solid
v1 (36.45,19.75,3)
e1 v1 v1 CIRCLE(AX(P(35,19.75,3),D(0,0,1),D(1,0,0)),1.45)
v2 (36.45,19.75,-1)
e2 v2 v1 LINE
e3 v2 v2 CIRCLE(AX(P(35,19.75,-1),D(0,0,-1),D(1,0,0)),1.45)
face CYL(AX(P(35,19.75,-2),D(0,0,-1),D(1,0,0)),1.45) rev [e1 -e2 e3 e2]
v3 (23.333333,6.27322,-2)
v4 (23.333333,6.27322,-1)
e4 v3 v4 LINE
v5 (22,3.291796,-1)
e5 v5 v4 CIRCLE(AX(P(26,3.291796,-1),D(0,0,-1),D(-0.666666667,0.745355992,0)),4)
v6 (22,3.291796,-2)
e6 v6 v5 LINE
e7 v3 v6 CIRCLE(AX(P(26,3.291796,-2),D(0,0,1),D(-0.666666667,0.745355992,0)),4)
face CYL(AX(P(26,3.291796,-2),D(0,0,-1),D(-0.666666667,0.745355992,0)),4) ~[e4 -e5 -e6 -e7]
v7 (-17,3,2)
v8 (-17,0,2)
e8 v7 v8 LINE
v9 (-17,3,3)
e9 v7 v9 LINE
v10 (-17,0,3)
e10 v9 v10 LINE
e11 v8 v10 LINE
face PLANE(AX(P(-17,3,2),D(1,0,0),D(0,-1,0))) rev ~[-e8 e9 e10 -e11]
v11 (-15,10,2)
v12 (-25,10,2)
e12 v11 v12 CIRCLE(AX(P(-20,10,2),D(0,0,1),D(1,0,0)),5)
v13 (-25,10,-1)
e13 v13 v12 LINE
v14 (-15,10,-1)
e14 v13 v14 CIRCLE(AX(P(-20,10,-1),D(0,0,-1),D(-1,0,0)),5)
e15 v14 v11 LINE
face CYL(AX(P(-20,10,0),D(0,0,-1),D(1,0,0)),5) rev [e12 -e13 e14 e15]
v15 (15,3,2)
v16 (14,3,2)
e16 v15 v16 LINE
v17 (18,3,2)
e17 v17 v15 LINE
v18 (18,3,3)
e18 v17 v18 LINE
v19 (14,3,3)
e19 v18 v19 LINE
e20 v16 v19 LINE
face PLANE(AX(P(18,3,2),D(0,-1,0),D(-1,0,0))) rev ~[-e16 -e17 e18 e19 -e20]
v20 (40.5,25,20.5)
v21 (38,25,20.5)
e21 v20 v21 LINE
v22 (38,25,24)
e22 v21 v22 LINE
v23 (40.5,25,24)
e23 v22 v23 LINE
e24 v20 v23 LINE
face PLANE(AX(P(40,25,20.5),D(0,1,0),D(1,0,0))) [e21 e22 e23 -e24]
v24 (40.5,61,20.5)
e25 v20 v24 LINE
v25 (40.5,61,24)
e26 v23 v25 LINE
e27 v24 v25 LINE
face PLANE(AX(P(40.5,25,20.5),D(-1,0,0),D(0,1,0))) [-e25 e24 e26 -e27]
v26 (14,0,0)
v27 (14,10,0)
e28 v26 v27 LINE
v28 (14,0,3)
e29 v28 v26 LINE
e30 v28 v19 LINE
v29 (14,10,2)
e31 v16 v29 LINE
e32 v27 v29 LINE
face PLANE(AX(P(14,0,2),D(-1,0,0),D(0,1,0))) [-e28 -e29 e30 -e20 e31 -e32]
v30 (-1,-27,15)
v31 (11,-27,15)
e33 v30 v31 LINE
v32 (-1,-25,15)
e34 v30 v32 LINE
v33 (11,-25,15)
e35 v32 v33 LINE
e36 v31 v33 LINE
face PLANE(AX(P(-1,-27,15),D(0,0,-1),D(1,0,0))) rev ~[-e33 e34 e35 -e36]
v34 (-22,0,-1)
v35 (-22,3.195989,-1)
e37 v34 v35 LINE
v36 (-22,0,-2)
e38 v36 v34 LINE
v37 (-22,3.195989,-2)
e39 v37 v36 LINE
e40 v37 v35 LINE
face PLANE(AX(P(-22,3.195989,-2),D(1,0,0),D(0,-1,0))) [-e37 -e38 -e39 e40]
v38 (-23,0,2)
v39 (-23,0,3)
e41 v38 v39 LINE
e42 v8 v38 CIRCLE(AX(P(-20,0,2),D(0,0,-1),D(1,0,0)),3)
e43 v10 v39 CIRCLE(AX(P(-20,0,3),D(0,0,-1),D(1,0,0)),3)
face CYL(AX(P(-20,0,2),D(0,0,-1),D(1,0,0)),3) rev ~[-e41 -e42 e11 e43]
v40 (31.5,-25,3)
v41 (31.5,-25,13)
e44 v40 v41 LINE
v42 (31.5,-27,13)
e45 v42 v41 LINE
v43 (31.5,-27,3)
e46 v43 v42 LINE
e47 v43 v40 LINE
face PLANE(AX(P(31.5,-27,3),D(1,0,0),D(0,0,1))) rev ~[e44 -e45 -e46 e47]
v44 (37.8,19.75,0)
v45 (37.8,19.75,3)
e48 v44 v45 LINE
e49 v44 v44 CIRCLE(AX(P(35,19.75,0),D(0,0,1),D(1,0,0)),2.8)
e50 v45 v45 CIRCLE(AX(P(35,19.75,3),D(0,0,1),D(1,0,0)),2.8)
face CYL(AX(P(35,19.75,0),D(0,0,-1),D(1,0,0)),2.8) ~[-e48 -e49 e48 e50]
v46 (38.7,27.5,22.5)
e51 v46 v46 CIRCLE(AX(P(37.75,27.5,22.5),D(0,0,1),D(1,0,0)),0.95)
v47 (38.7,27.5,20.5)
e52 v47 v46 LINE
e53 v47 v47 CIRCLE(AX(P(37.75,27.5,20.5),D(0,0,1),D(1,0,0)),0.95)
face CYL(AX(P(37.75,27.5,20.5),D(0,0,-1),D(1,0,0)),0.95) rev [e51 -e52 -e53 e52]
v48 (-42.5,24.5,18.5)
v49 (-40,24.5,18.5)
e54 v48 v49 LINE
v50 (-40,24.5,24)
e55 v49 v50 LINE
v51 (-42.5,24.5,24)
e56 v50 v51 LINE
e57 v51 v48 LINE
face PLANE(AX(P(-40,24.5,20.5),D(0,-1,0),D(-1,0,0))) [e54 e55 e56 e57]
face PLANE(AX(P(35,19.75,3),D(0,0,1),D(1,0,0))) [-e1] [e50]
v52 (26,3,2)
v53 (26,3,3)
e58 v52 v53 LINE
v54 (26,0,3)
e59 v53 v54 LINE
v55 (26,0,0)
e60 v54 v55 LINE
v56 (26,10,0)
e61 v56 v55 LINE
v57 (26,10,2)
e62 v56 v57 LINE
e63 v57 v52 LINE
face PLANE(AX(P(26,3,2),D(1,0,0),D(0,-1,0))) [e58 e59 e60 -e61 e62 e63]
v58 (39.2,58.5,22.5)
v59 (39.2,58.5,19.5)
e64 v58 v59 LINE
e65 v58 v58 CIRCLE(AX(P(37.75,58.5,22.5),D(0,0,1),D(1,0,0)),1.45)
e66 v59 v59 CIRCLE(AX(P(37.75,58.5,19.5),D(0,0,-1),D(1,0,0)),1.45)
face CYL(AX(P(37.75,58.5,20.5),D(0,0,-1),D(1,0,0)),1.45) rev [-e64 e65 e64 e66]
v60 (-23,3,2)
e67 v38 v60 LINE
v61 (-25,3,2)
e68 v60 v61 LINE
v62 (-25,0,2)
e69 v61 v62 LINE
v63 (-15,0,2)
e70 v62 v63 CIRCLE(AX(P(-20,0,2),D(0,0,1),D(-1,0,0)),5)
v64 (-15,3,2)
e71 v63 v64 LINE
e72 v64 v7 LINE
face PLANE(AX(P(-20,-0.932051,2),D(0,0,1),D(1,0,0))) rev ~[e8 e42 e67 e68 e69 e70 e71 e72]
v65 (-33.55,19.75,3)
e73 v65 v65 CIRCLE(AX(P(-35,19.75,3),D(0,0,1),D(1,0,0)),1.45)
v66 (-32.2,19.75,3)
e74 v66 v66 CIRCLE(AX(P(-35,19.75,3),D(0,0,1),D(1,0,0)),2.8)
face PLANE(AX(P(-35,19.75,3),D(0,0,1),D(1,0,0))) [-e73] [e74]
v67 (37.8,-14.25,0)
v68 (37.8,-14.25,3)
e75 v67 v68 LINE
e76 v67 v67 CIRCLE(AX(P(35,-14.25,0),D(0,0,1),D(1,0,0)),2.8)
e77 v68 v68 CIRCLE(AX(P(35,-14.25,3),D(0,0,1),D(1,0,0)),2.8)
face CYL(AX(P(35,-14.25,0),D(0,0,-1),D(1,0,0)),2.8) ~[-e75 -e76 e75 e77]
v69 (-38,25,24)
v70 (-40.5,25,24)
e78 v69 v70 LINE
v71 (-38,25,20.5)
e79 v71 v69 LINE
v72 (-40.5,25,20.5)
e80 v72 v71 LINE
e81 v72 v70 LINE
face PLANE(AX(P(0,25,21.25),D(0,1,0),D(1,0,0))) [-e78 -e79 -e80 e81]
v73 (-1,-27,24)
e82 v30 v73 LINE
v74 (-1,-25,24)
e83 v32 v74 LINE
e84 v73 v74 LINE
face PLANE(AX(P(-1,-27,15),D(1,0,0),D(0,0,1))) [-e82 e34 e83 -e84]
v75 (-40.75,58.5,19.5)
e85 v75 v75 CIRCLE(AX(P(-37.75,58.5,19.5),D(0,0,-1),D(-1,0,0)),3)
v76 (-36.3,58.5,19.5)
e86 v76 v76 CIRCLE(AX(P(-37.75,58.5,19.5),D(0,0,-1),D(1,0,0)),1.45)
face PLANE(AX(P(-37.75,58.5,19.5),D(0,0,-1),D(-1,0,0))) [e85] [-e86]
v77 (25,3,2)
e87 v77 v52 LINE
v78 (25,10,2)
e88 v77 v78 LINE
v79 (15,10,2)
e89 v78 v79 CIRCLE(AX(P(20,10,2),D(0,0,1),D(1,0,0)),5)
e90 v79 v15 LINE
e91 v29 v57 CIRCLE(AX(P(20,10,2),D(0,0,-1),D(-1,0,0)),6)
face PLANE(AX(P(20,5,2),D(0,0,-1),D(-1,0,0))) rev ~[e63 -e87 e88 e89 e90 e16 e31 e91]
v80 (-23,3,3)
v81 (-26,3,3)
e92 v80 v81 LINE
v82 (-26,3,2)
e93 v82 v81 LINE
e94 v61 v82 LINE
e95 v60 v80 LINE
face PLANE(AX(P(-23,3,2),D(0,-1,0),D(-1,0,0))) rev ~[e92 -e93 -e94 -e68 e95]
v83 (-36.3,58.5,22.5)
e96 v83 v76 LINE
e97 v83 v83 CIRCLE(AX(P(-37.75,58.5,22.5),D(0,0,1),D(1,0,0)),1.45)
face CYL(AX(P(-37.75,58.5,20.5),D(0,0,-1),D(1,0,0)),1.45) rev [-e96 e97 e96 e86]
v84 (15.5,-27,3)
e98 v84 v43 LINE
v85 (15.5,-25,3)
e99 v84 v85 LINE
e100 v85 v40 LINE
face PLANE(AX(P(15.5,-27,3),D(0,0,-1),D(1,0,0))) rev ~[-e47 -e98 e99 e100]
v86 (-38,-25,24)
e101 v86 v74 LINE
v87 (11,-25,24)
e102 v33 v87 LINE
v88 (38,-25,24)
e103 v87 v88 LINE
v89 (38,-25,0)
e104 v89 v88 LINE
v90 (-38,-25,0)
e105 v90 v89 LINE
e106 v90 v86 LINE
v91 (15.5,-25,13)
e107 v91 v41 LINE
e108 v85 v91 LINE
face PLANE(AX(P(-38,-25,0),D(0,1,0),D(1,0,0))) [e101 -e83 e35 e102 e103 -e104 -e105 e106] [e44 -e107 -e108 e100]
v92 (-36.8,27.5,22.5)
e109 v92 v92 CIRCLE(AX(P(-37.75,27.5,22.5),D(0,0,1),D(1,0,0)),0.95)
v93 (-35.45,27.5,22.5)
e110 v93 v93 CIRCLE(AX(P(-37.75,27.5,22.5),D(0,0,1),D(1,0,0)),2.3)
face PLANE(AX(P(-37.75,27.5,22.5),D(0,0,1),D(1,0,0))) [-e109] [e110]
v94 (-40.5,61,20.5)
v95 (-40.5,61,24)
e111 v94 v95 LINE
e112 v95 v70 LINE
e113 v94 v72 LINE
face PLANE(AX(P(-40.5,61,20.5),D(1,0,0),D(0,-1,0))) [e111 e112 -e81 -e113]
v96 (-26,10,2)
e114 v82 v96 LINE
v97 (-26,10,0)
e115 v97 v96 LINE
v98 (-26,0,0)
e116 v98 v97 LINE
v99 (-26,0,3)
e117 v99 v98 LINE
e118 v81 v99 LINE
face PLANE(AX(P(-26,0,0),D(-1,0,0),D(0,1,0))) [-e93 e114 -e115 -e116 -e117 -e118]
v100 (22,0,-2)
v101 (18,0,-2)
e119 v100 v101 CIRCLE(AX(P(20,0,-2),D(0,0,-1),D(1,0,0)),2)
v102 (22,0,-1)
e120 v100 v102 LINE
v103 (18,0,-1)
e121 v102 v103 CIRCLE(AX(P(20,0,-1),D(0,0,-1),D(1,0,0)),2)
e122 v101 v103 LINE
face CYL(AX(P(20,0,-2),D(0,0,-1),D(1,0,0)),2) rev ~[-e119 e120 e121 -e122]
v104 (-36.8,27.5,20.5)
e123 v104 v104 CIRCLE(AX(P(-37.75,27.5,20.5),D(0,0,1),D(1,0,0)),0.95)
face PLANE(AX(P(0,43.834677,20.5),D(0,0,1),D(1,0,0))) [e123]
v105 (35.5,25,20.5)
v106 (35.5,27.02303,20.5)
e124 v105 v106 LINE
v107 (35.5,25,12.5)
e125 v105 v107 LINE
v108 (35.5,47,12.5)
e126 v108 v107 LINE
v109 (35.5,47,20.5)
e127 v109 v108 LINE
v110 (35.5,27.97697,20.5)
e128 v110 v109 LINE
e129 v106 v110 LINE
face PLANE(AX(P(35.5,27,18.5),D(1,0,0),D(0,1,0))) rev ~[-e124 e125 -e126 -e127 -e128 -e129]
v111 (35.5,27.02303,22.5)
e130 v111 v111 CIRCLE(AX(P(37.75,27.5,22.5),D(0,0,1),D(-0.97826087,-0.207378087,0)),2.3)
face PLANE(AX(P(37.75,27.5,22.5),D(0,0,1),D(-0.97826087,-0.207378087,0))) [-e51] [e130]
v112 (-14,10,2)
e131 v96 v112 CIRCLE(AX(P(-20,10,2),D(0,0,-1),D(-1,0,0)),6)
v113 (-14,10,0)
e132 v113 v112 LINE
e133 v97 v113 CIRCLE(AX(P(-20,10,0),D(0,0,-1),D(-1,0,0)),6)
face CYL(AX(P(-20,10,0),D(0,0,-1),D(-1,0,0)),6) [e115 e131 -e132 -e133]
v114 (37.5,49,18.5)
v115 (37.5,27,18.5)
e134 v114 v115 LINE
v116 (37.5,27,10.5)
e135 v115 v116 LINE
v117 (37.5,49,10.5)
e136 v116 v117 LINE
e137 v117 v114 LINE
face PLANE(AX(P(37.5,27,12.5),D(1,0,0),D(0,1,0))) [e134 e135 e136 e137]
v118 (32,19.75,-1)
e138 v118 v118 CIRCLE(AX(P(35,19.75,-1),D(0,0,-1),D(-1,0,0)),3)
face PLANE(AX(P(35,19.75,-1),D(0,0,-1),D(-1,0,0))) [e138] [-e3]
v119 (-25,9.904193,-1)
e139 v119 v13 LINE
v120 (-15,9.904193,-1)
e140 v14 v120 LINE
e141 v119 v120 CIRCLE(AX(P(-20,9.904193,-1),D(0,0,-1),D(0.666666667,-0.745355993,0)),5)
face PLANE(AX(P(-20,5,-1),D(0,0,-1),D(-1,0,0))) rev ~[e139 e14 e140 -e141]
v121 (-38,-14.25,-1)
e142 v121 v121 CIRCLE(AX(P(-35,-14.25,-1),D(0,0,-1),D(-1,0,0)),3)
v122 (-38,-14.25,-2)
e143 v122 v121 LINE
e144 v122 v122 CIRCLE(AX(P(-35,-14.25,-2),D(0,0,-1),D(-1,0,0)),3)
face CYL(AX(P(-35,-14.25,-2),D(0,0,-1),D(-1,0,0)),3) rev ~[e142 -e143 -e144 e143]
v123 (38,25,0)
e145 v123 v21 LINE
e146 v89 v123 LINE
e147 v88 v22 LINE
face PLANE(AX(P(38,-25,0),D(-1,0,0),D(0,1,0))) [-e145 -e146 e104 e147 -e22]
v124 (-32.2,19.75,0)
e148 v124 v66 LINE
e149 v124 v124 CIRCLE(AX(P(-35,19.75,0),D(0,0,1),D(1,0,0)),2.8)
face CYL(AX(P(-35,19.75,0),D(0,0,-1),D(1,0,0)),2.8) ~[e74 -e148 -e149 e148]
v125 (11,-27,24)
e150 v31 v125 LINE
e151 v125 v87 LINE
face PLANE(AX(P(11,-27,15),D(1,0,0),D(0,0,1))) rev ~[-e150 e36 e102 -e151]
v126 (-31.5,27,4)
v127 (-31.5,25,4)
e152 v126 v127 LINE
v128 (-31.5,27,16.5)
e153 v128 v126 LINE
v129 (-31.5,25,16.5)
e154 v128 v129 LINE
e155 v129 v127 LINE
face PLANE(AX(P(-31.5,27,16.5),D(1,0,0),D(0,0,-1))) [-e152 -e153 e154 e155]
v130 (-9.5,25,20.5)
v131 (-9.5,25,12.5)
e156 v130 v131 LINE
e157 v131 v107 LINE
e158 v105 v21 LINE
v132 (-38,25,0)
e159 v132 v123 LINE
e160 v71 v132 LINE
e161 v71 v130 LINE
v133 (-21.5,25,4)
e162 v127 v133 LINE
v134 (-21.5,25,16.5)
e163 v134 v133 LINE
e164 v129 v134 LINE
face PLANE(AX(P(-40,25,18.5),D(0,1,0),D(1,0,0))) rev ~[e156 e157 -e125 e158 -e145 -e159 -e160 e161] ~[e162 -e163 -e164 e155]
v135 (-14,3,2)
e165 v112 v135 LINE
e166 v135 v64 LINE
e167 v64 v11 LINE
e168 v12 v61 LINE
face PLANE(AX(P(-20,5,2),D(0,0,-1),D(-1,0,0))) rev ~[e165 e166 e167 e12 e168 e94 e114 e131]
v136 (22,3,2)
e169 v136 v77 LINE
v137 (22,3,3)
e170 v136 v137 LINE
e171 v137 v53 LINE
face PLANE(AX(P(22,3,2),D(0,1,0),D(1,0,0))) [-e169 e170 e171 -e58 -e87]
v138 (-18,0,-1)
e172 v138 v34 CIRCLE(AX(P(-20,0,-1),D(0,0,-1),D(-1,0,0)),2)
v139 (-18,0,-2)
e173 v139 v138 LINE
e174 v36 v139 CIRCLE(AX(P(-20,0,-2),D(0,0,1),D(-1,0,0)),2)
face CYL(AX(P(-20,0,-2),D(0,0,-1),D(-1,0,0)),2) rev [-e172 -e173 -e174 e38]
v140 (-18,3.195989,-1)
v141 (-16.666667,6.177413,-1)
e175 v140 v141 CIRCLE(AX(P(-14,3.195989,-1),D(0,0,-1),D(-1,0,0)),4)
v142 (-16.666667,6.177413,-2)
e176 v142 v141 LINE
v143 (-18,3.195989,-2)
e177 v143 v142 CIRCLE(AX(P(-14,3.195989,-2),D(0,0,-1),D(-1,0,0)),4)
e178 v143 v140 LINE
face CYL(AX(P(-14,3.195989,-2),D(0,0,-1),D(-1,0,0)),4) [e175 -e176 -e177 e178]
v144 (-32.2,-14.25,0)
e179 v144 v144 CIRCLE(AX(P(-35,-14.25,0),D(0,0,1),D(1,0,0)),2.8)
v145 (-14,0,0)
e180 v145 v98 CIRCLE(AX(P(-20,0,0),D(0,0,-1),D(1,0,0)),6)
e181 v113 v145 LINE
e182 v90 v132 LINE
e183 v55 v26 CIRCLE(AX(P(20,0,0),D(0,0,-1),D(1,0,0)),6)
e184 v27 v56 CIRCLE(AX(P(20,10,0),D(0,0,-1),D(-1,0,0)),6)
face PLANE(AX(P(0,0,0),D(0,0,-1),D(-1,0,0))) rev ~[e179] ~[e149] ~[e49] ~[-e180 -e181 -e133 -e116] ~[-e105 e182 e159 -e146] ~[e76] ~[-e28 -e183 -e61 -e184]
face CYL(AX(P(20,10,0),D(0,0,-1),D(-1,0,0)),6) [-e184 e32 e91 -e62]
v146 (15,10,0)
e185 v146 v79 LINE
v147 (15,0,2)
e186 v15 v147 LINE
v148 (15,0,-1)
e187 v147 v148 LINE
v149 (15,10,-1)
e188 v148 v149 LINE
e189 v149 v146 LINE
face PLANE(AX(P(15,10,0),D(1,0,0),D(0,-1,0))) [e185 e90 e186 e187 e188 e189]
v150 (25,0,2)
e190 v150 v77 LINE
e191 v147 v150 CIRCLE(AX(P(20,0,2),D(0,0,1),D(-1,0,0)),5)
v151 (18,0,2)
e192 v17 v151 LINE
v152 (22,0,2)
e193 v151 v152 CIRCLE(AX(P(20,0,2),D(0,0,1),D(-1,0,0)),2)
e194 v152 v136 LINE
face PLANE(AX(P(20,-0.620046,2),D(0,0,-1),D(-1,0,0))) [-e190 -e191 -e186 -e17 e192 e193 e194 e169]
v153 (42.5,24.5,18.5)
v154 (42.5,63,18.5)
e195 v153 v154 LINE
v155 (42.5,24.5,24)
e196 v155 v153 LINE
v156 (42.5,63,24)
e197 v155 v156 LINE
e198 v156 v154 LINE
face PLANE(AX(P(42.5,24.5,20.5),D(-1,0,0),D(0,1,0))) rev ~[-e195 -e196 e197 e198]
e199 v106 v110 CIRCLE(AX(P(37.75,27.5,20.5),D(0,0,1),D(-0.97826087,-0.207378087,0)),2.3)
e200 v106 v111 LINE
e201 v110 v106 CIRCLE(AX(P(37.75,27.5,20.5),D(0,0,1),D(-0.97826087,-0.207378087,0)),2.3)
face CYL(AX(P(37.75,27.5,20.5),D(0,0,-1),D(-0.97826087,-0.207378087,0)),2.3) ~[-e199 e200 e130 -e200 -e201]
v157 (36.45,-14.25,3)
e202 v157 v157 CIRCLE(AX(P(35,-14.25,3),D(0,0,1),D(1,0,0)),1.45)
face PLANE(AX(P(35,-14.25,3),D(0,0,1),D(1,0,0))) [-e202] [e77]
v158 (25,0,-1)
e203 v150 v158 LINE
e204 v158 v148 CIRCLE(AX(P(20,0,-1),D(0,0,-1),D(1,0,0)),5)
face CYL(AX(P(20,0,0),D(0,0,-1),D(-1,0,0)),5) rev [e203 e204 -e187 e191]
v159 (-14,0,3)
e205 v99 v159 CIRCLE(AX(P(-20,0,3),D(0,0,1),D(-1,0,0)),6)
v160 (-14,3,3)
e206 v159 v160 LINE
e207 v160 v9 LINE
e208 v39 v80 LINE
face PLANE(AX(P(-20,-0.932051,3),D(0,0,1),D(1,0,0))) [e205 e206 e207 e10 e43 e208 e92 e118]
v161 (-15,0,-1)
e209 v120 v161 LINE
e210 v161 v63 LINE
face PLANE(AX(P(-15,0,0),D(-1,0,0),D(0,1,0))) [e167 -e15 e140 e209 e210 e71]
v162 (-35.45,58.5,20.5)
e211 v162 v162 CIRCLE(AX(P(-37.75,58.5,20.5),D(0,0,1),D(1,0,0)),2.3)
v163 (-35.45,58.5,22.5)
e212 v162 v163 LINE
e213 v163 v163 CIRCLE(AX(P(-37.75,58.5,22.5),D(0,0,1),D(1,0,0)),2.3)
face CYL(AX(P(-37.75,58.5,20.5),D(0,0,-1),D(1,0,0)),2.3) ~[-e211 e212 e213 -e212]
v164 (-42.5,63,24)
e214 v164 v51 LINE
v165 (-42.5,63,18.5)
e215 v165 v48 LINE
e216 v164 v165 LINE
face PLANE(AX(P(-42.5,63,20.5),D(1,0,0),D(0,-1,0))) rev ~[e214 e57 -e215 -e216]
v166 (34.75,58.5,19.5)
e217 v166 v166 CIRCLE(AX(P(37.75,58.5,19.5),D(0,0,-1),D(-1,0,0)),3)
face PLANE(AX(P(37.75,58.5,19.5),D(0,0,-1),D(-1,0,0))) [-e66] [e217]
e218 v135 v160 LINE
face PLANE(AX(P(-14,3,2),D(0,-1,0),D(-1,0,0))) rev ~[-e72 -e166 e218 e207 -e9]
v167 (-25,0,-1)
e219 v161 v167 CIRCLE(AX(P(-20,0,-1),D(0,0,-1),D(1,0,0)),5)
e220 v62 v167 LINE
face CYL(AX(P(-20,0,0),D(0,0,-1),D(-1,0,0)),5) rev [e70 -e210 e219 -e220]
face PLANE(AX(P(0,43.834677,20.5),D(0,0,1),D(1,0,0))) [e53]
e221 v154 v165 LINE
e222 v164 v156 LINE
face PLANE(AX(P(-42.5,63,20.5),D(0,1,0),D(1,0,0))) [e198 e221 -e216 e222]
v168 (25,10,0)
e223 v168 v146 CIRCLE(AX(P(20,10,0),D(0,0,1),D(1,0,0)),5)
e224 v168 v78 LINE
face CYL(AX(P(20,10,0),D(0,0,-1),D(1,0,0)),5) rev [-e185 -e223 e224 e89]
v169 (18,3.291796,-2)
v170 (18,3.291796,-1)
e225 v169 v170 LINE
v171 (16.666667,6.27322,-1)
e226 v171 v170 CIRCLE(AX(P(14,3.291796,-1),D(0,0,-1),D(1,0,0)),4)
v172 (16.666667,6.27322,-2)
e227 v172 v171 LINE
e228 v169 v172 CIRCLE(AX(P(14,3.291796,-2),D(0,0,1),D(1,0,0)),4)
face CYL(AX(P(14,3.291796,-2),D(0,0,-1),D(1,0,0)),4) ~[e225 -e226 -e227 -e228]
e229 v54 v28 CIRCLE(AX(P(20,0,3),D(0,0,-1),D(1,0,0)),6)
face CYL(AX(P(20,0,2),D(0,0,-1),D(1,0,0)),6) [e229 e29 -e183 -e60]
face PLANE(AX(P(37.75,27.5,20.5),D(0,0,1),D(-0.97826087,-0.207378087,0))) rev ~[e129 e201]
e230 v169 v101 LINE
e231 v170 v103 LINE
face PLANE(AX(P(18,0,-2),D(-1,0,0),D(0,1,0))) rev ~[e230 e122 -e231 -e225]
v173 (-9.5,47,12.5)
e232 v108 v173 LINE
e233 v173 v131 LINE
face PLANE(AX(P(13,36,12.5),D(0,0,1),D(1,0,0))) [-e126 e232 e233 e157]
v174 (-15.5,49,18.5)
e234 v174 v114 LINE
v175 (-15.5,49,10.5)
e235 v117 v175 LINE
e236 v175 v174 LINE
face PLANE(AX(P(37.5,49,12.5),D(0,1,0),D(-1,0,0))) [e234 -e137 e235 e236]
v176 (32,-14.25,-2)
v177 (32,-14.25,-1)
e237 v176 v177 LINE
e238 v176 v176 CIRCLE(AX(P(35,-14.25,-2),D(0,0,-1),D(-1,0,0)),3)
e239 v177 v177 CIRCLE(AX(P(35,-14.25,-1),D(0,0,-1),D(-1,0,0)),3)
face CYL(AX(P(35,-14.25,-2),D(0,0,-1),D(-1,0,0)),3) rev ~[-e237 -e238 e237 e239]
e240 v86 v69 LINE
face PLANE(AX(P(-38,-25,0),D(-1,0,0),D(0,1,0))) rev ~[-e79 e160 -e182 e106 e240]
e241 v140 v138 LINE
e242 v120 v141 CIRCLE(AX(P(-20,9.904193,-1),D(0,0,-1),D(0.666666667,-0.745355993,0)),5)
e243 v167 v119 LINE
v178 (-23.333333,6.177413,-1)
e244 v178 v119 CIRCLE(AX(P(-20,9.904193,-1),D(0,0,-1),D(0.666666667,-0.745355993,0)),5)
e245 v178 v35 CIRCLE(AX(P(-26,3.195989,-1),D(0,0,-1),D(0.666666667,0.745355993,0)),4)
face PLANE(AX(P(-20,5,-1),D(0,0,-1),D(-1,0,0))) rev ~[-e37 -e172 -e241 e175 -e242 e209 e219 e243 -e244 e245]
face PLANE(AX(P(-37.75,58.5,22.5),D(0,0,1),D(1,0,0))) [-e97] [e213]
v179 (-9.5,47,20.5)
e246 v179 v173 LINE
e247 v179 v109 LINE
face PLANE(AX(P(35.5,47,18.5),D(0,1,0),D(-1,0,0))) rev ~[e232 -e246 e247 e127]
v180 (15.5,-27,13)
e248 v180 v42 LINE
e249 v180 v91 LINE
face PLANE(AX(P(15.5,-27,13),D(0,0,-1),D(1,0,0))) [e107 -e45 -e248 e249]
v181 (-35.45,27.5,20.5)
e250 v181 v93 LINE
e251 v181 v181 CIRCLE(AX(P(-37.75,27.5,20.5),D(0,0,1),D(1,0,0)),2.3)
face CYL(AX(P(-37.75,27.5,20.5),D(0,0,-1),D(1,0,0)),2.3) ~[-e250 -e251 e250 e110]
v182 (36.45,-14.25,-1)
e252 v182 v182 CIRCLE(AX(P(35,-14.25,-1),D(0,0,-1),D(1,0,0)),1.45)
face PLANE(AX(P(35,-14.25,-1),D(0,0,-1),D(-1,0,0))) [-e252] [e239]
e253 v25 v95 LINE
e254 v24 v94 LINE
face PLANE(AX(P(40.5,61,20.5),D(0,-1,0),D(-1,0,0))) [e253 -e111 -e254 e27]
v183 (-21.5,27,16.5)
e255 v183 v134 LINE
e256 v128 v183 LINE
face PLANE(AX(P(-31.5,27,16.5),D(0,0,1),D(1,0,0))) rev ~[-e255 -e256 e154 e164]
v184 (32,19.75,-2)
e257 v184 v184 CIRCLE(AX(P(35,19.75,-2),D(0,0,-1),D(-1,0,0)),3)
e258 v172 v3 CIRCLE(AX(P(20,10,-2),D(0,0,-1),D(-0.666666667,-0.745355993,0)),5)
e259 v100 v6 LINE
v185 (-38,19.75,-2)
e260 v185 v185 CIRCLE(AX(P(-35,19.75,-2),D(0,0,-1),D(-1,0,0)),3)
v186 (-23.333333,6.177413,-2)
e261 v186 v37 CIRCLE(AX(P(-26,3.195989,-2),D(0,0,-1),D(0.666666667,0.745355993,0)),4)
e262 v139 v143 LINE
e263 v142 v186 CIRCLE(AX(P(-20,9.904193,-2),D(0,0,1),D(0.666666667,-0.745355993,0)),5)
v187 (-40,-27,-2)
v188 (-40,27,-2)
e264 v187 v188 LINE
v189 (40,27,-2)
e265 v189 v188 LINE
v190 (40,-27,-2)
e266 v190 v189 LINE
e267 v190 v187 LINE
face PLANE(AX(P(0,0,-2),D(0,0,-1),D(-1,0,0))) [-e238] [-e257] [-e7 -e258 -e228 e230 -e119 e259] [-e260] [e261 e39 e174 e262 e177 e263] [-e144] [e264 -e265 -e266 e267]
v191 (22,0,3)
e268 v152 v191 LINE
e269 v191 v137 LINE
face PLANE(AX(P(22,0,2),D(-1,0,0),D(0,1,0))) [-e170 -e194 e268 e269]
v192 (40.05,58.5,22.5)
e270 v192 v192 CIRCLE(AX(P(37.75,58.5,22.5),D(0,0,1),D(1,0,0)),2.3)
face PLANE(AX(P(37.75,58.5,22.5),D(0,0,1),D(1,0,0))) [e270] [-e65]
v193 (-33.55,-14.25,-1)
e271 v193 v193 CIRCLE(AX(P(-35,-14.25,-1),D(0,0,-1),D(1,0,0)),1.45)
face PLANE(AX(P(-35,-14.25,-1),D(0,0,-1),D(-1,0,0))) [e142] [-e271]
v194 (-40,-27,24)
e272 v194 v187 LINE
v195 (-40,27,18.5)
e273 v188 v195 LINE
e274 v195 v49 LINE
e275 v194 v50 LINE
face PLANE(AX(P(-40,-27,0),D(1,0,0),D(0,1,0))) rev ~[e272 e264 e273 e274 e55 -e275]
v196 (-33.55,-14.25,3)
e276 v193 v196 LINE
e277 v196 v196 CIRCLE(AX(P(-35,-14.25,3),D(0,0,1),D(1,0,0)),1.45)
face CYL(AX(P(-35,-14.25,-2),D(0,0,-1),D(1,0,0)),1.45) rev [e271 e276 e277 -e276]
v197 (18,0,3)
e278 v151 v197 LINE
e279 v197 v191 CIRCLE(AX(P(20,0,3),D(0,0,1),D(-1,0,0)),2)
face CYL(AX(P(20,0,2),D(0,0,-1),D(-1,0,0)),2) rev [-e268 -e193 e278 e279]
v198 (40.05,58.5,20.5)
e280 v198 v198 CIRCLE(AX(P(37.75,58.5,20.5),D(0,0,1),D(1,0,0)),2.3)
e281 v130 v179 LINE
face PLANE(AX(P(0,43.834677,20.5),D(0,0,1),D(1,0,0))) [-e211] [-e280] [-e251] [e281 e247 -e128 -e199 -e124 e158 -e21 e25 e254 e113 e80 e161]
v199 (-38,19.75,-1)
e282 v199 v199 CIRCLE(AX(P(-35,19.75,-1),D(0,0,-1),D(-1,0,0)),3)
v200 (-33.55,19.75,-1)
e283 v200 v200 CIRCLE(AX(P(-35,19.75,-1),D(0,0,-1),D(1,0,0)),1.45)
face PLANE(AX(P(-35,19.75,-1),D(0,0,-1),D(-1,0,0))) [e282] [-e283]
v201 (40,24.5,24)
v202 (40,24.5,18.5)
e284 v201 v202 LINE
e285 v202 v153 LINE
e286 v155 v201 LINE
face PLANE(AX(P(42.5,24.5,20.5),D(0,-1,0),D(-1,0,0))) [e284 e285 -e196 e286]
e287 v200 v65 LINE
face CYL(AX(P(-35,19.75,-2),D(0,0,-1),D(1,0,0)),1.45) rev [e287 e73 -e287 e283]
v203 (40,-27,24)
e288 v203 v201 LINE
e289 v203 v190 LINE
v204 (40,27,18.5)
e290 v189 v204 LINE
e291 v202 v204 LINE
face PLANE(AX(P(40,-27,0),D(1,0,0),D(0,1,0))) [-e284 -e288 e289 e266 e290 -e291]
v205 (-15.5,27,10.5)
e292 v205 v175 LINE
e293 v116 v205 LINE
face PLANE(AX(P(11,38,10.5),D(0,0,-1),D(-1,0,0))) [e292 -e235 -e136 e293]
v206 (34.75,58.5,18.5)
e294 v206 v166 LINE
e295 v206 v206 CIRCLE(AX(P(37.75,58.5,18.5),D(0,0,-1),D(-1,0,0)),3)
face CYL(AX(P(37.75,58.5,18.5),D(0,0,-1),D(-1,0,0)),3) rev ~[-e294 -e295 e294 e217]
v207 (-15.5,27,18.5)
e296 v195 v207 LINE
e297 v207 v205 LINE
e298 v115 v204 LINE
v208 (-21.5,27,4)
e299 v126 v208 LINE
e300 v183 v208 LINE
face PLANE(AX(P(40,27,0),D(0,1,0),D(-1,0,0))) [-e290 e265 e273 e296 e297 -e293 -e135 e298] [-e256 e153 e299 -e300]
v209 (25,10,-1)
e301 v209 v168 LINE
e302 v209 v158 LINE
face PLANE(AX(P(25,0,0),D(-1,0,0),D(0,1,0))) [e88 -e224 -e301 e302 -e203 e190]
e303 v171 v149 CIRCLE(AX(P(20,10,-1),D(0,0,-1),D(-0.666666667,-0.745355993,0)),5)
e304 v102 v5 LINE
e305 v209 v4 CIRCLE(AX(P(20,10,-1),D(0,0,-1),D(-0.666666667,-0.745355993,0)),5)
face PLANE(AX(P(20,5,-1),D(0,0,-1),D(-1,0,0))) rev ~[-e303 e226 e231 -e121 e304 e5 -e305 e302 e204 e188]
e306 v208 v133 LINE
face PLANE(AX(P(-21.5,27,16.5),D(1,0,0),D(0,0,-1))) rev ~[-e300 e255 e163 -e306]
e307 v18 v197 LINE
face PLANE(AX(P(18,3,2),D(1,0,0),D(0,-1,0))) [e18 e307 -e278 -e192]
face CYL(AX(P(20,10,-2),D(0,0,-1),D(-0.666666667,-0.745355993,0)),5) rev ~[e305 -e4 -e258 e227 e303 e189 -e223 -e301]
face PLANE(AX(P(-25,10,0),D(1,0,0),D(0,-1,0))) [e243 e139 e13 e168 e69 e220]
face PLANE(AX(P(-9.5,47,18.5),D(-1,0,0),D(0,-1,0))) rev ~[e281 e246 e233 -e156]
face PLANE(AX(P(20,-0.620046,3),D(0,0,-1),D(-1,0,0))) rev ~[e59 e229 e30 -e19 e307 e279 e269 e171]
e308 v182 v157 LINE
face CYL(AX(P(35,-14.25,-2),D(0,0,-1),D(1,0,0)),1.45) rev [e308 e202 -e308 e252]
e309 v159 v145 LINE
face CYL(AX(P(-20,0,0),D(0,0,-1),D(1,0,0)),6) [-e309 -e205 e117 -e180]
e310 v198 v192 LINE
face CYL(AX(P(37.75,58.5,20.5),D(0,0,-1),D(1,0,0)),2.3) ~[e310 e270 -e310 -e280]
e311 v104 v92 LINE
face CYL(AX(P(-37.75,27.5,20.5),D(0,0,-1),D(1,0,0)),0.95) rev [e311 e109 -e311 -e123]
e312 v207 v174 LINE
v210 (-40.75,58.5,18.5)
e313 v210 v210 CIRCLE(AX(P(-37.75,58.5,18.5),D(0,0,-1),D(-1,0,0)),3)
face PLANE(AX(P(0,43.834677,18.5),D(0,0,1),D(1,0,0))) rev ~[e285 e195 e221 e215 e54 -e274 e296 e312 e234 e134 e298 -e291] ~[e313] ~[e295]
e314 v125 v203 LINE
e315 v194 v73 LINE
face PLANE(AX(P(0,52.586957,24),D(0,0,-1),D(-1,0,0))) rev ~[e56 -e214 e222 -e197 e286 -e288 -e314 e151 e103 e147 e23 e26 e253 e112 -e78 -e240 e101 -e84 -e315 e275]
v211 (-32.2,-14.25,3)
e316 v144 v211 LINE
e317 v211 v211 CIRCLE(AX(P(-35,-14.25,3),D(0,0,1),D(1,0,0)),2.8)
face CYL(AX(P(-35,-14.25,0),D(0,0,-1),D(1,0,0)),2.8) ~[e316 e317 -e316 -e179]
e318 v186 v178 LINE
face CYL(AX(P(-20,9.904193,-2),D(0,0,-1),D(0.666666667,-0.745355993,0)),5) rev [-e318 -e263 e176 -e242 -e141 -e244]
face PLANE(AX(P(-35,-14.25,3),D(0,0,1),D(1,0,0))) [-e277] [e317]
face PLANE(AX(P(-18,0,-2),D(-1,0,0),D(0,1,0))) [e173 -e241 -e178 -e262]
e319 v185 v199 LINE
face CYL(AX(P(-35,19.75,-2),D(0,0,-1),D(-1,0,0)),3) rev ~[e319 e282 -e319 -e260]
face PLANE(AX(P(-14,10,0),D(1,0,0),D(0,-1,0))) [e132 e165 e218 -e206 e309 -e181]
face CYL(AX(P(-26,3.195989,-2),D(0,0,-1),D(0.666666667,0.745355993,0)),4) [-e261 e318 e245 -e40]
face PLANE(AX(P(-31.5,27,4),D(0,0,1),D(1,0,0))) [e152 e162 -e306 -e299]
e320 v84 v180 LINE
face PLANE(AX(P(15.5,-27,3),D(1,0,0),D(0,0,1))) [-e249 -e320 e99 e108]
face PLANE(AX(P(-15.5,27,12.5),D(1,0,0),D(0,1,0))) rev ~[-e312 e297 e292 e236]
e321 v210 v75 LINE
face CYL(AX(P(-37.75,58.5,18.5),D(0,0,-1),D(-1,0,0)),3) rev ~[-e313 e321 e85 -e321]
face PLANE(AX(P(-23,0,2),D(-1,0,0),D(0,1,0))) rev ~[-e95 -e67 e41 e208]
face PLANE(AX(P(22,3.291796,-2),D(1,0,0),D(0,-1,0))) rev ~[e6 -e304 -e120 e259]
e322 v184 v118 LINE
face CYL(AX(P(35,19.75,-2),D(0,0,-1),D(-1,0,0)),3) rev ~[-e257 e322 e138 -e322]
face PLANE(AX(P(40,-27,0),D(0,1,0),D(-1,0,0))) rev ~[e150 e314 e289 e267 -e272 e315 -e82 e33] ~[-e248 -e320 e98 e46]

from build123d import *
from build123d.topology import SkipClean

# Parameters (mm, degrees)
SKETCH_1_W           = 80
SKETCH_1_H           = 54
SKETCH_1_W_2         = 76
SKETCH_1_H_2         = 50
EXTRUDE_1_DEPTH      = 24
SKETCH_2_W           = 80
SKETCH_2_H           = 54
EXTRUDE_1_2_DEPTH    = 2
SKETCH_3_R           = 2.8
SKETCH_3_R_2         = 1.45
EXTRUDE_4_DEPTH      = 3
SKETCH_4_W           = 16
SKETCH_4_H           = 10
SKETCH_4_W_2         = 12
SKETCH_4_H_2         = 9
CUT_EXTRUDE_1_DEPTH  = 2
SKETCH_6_W           = 10
SKETCH_6_H           = 12.5
CUT_EXTRUDE_2_DEPTH  = 2
CUT_EXTRUDE_START    = -2
SKETCH_7_R           = 1.45
CUT_EXTRUDE_3_DEPTH  = 2
SKETCH_8_W           = 81
SKETCH_8_H           = 5.5
CUT_EXTRUDE_4_DEPTH  = 2
EXTRUDE_5_DEPTH      = 2
EXTRUDE_6_DEPTH      = 3.5
SKETCH_11_W          = 45
SKETCH_11_H          = 22
CUT_EXTRUDE_5_DEPTH  = 8
EXTRUDE_7_DEPTH      = 6
SKETCH_13_W          = 53
SKETCH_13_H          = 22
EXTRUDE_8_DEPTH      = 2
SKETCH_14_R          = 2.3
SKETCH_14_R_2        = 1.45
SKETCH_14_R_3        = 0.95
EXTRUDE_9_DEPTH      = 2
SKETCH_15_R          = 1.45
CUT_EXTRUDE_6_DEPTH  = 2
EXTRUDE_10_DEPTH     = 2
CUT_EXTRUDE_7_DEPTH  = 2
EXTRUDE_11_DEPTH     = 1
CUT_EXTRUDE_START_2  = -1
CUT_EXTRUDE_8_DEPTH  = 1
SKETCH_20_R          = 3
CUT_EXTRUDE_9_DEPTH  = 1
SKETCH_21_R          = 3
CUT_EXTRUDE_10_DEPTH = 1


with BuildPart() as part:
    # Эскиз1 → Extrude 1 (new body)
    with BuildSketch(Plane.XY):
        Rectangle(SKETCH_1_W, SKETCH_1_H)
        Rectangle(SKETCH_1_W_2, SKETCH_1_H_2, mode=Mode.SUBTRACT)
    extrude(amount=EXTRUDE_1_DEPTH)

    # Эскиз2 → Extrude 1 2 (add)
    with BuildSketch(Plane(origin=(0, 0, 0), x_dir=(-1, 0, 0), z_dir=(0, 0, -1))):
        Rectangle(SKETCH_2_W, SKETCH_2_H)
    extrude(amount=EXTRUDE_1_2_DEPTH)

    # Эскиз3 → Бобышка-Вытянуть4 (add)
    # profile 1 of 4: a face of its own
    with BuildSketch(Plane.XY):
        with Locations((35, 19.75)):
            Circle(SKETCH_3_R)
        with Locations((35, 19.75)):
            Circle(SKETCH_3_R_2, mode=Mode.SUBTRACT)
    # profile 2 of 4: a face of its own
    with BuildSketch(Plane.XY):
        with Locations((35, -14.25)):
            Circle(SKETCH_3_R)
        with Locations((35, -14.25)):
            Circle(SKETCH_3_R_2, mode=Mode.SUBTRACT)
    # profile 3 of 4: a face of its own
    with BuildSketch(Plane.XY):
        with Locations((-35, -14.25)):
            Circle(SKETCH_3_R)
        with Locations((-35, -14.25)):
            Circle(SKETCH_3_R_2, mode=Mode.SUBTRACT)
    # profile 4 of 4: a face of its own
    with BuildSketch(Plane.XY):
        with Locations((-35, 19.75)):
            Circle(SKETCH_3_R)
        with Locations((-35, 19.75)):
            Circle(SKETCH_3_R_2, mode=Mode.SUBTRACT)
    extrude(amount=EXTRUDE_4_DEPTH)

    # Эскиз4 → Вырез-Вытянуть1 (cut)
    with BuildSketch(Plane.XZ.offset(27)):
        with Locations((23.5, 8)):
            Rectangle(SKETCH_4_W, SKETCH_4_H)
        with Locations((5, 19.5)):
            Rectangle(SKETCH_4_W_2, SKETCH_4_H_2)
    extrude(amount=-CUT_EXTRUDE_1_DEPTH, mode=Mode.SUBTRACT)

    # Эскиз6 → Вырез-Вытянуть2 (cut)
    with BuildSketch(Plane(origin=(0, 27, 0), x_dir=(1, 0, 0), z_dir=(0, 1, 0))):
        with Locations((-26.5, -10.25)):
            Rectangle(SKETCH_6_W, SKETCH_6_H)
    extrude(amount=-CUT_EXTRUDE_2_DEPTH, mode=Mode.SUBTRACT)

    # Эскиз7 → Вырез-Вытянуть3 (cut)
    with BuildSketch(Plane.XY.offset(CUT_EXTRUDE_START)):
        with Locations((-35, 19.75)):
            Circle(SKETCH_7_R)
        with Locations((-35, -14.25)):
            Circle(SKETCH_7_R)
        with Locations((35, 19.75)):
            Circle(SKETCH_7_R)
        with Locations((35, -14.25)):
            Circle(SKETCH_7_R)
    extrude(amount=CUT_EXTRUDE_3_DEPTH, mode=Mode.SUBTRACT)

    # Эскиз8 → Вырез-Вытянуть4 (cut)
    with BuildSketch(Plane(origin=(0, 27, 0), x_dir=(1, 0, 0), z_dir=(0, 1, 0))):
        with Locations((0, -21.25)):
            Rectangle(SKETCH_8_W, SKETCH_8_H)
    extrude(amount=-CUT_EXTRUDE_4_DEPTH, mode=Mode.SUBTRACT)

    # Эскиз9 → Бобышка-Вытянуть5 (add)
    with BuildSketch(Plane.XY.offset(18.5)):
        Polygon((42.5, 25), (42.5, 63), (-42.5, 63), (-42.5, 25), (-42.5, 24.5), (-40, 24.5), (-40, 25), (40, 25), (40, 24.5), (42.5, 24.5), align=None)
    extrude(amount=EXTRUDE_5_DEPTH)

    # Эскиз10 → Бобышка-Вытянуть6 (add)
    with BuildSketch(Plane.XY.offset(20.5)):
        Polygon((40.5, 25), (40.5, 61), (-40.5, 61), (-40.5, 25), (-40, 25), (-40, 24.5), (-42.5, 24.5), (-42.5, 25), (-42.5, 63), (42.5, 63), (42.5, 25), (42.5, 24.5), (40, 24.5), (40, 25), align=None)
    extrude(amount=EXTRUDE_6_DEPTH)

    # Эскиз11 → Вырез-Вытянуть5 (cut)
    with BuildSketch(Plane.XY.offset(20.5)):
        with Locations((13, 36)):
            Rectangle(SKETCH_11_W, SKETCH_11_H)
    extrude(amount=-CUT_EXTRUDE_5_DEPTH, mode=Mode.SUBTRACT)

    # Эскиз12 → Бобышка-Вытянуть7 (add)
    with BuildSketch(Plane(origin=(0, 0, 18.5), x_dir=(-1, 0, 0), z_dir=(0, 0, -1))):
        Polygon((9.5, 27), (15.5, 27), (15.5, 49), (-37.5, 49), (-37.5, 27), (-35.5, 27), (-35.5, 47), (9.5, 47), align=None)
    extrude(amount=EXTRUDE_7_DEPTH)

    # Эскиз13 → Бобышка-Вытянуть8 (add)
    with BuildSketch(Plane(origin=(0, 0, 12.5), x_dir=(-1, 0, 0), z_dir=(0, 0, -1))):
        with Locations((-11, 38)):
            Rectangle(SKETCH_13_W, SKETCH_13_H)
    extrude(amount=EXTRUDE_8_DEPTH)

    # Эскиз14 → Бобышка-Вытянуть9 (add)
    # profile 1 of 4: a face of its own
    with BuildSketch(Plane.XY.offset(20.5)):
        with Locations((37.75, 58.5)):
            Circle(SKETCH_14_R)
        with Locations((37.75, 58.5)):
            Circle(SKETCH_14_R_2, mode=Mode.SUBTRACT)
    # profile 2 of 4: a face of its own
    with BuildSketch(Plane.XY.offset(20.5)):
        with Locations(Location((37.75, 27.5, 0), (0, 0, 191.968745555))):
            Circle(SKETCH_14_R)
        with Locations((37.75, 27.5)):
            Circle(SKETCH_14_R_3, mode=Mode.SUBTRACT)
    # profile 3 of 4: a face of its own
    with BuildSketch(Plane.XY.offset(20.5)):
        with Locations((-37.75, 58.5)):
            Circle(SKETCH_14_R)
        with Locations((-37.75, 58.5)):
            Circle(SKETCH_14_R_2, mode=Mode.SUBTRACT)
    # profile 4 of 4: a face of its own
    with BuildSketch(Plane.XY.offset(20.5)):
        with Locations((-37.75, 27.5)):
            Circle(SKETCH_14_R)
        with Locations((-37.75, 27.5)):
            Circle(SKETCH_14_R_3, mode=Mode.SUBTRACT)
    extrude(amount=EXTRUDE_9_DEPTH)

    # Эскиз15 → Вырез-Вытянуть6 (cut)
    with BuildSketch(Plane.XY.offset(20.5).offset(CUT_EXTRUDE_START)):
        with Locations((-37.75, 58.5)):
            Circle(SKETCH_15_R)
        with Locations((37.75, 58.5)):
            Circle(SKETCH_15_R)
    extrude(amount=CUT_EXTRUDE_6_DEPTH, mode=Mode.SUBTRACT)

    # Эскиз16 → Бобышка-Вытянуть10 (add)
    # profile 1 of 2: a face of its own
    with BuildSketch(Plane.XY):
        with BuildLine():
            Line((-14, 10), (-14, 0))
            ThreePointArc((-14, 0), (-20, -6), (-26, 0))
            Line((-26, 0), (-26, 10))
            ThreePointArc((-26, 10), (-20, 16), (-14, 10))
        make_face()
        with BuildLine():
            Line((-25, 10), (-25, 0))
            ThreePointArc((-25, 0), (-20, -5), (-15, 0))
            Line((-15, 0), (-15, 10))
            ThreePointArc((-15, 10), (-20, 15), (-25, 10))
        make_face(mode=Mode.SUBTRACT)
    # profile 2 of 2: a face of its own
    with BuildSketch(Plane.XY):
        with BuildLine():
            Line((26, 10), (26, 0))
            ThreePointArc((26, 0), (20, -6), (14, 0))
            Line((14, 0), (14, 10))
            ThreePointArc((14, 10), (20, 16), (26, 10))
        make_face()
        with BuildLine():
            Line((15, 10), (15, 0))
            ThreePointArc((15, 0), (20, -5), (25, 0))
            Line((25, 0), (25, 10))
            ThreePointArc((25, 10), (20, 15), (15, 10))
        make_face(mode=Mode.SUBTRACT)
    extrude(amount=EXTRUDE_10_DEPTH)

    # Эскиз17 → Вырез-Вытянуть7 (cut)
    with SkipClean():  # the faces are left unmerged after this step: merging them gives an invalid solid
        with BuildSketch(Plane.XY.offset(CUT_EXTRUDE_START)):
            with BuildLine():
                Line((-18, 2), (-18, 3.195989192))
                ThreePointArc((-18, 3.195989192), (-17.651483717, 4.828982354), (-16.666666667, 6.177413162))
                ThreePointArc((-16.666666667, 6.177413162), (-20, 14.904193125), (-23.333333333, 6.177413162))
                ThreePointArc((-23.333333333, 6.177413162), (-22.348516283, 4.828982354), (-22, 3.195989192))
                Line((-22, 3.195989192), (-22, 2))
                Line((-22, 2), (-22, 0))
                ThreePointArc((-22, 0), (-20, -2), (-18, 0))
                Line((-18, 0), (-18, 2))
            make_face()
            with BuildLine():
                Line((18, 0), (18, 2))
                Line((18, 2), (18, 3.291796068))
                ThreePointArc((18, 3.291796068), (17.651483717, 4.924789229), (16.666666667, 6.273220038))
                ThreePointArc((16.666666667, 6.273220038), (20, 15), (23.333333333, 6.273220038))
                ThreePointArc((23.333333333, 6.273220038), (22.348516283, 4.924789229), (22, 3.291796068))
                Line((22, 3.291796068), (22, 2))
                Line((22, 2), (22, 0))
                ThreePointArc((22, 0), (20, -2), (18, 0))
            make_face()
        extrude(amount=CUT_EXTRUDE_7_DEPTH, mode=Mode.SUBTRACT)

    # Эскиз18 → Бобышка-Вытянуть11 (add)
    with SkipClean():  # the faces are left unmerged after this step: merging them gives an invalid solid
        with BuildSketch(Plane.XY.offset(2)):
            with BuildLine():
                Line((22, 0), (22, 3))
                Line((22, 3), (26, 3))
                Line((26, 3), (26, 0))
                ThreePointArc((26, 0), (20, -6), (14, 0))
                Line((14, 0), (14, 3))
                Line((14, 3), (15, 3))
                Line((15, 3), (18, 3))
                Line((18, 3), (18, 0))
                ThreePointArc((18, 0), (20, -2), (22, 0))
            make_face()
            with BuildLine():
                Line((-14, 0), (-14, 3))
                Line((-14, 3), (-17, 3))
                Line((-17, 3), (-17, 0))
                ThreePointArc((-17, 0), (-20, -3), (-23, 0))
                Line((-23, 0), (-23, 3))
                Line((-23, 3), (-26, 3))
                Line((-26, 3), (-26, 0))
                ThreePointArc((-26, 0), (-20, -6), (-14, 0))
            make_face()
        extrude(amount=EXTRUDE_11_DEPTH)

    # Эскиз19 → Вырез-Вытянуть8 (cut)
    with BuildSketch(Plane.XY.offset(CUT_EXTRUDE_START_2)):
        with BuildLine():
            Line((-25, 0), (-25, 10))
            ThreePointArc((-25, 10), (-20, 15), (-15, 10))
            Line((-15, 10), (-15, 0))
            ThreePointArc((-15, 0), (-20, -5), (-25, 0))
        make_face()
        with BuildLine():
            Line((25, 10), (25, 0))
            ThreePointArc((25, 0), (20, -5), (15, 0))
            Line((15, 0), (15, 10))
            ThreePointArc((15, 10), (20, 15), (25, 10))
        make_face()
    extrude(amount=CUT_EXTRUDE_8_DEPTH, mode=Mode.SUBTRACT)

    # Эскиз20 → Вырез-Вытянуть9 (cut)
    with BuildSketch(Plane(origin=(0, 0, -2), x_dir=(-1, 0, 0), z_dir=(0, 0, -1))):
        with Locations((35, -14.25)):
            Circle(SKETCH_20_R)
        with Locations((35, 19.75)):
            Circle(SKETCH_20_R)
        with Locations((-35, -14.25)):
            Circle(SKETCH_20_R)
        with Locations((-35, 19.75)):
            Circle(SKETCH_20_R)
    extrude(amount=-CUT_EXTRUDE_9_DEPTH, mode=Mode.SUBTRACT)

    # Эскиз21 → Вырез-Вытянуть10 (cut)
    with BuildSketch(Plane(origin=(0, 0, 18.5), x_dir=(-1, 0, 0), z_dir=(0, 0, -1))):
        with Locations((37.75, 58.5)):
            Circle(SKETCH_21_R)
        with Locations((-37.75, 58.5)):
            Circle(SKETCH_21_R)
    extrude(amount=-CUT_EXTRUDE_10_DEPTH, mode=Mode.SUBTRACT)


solid = part.part
